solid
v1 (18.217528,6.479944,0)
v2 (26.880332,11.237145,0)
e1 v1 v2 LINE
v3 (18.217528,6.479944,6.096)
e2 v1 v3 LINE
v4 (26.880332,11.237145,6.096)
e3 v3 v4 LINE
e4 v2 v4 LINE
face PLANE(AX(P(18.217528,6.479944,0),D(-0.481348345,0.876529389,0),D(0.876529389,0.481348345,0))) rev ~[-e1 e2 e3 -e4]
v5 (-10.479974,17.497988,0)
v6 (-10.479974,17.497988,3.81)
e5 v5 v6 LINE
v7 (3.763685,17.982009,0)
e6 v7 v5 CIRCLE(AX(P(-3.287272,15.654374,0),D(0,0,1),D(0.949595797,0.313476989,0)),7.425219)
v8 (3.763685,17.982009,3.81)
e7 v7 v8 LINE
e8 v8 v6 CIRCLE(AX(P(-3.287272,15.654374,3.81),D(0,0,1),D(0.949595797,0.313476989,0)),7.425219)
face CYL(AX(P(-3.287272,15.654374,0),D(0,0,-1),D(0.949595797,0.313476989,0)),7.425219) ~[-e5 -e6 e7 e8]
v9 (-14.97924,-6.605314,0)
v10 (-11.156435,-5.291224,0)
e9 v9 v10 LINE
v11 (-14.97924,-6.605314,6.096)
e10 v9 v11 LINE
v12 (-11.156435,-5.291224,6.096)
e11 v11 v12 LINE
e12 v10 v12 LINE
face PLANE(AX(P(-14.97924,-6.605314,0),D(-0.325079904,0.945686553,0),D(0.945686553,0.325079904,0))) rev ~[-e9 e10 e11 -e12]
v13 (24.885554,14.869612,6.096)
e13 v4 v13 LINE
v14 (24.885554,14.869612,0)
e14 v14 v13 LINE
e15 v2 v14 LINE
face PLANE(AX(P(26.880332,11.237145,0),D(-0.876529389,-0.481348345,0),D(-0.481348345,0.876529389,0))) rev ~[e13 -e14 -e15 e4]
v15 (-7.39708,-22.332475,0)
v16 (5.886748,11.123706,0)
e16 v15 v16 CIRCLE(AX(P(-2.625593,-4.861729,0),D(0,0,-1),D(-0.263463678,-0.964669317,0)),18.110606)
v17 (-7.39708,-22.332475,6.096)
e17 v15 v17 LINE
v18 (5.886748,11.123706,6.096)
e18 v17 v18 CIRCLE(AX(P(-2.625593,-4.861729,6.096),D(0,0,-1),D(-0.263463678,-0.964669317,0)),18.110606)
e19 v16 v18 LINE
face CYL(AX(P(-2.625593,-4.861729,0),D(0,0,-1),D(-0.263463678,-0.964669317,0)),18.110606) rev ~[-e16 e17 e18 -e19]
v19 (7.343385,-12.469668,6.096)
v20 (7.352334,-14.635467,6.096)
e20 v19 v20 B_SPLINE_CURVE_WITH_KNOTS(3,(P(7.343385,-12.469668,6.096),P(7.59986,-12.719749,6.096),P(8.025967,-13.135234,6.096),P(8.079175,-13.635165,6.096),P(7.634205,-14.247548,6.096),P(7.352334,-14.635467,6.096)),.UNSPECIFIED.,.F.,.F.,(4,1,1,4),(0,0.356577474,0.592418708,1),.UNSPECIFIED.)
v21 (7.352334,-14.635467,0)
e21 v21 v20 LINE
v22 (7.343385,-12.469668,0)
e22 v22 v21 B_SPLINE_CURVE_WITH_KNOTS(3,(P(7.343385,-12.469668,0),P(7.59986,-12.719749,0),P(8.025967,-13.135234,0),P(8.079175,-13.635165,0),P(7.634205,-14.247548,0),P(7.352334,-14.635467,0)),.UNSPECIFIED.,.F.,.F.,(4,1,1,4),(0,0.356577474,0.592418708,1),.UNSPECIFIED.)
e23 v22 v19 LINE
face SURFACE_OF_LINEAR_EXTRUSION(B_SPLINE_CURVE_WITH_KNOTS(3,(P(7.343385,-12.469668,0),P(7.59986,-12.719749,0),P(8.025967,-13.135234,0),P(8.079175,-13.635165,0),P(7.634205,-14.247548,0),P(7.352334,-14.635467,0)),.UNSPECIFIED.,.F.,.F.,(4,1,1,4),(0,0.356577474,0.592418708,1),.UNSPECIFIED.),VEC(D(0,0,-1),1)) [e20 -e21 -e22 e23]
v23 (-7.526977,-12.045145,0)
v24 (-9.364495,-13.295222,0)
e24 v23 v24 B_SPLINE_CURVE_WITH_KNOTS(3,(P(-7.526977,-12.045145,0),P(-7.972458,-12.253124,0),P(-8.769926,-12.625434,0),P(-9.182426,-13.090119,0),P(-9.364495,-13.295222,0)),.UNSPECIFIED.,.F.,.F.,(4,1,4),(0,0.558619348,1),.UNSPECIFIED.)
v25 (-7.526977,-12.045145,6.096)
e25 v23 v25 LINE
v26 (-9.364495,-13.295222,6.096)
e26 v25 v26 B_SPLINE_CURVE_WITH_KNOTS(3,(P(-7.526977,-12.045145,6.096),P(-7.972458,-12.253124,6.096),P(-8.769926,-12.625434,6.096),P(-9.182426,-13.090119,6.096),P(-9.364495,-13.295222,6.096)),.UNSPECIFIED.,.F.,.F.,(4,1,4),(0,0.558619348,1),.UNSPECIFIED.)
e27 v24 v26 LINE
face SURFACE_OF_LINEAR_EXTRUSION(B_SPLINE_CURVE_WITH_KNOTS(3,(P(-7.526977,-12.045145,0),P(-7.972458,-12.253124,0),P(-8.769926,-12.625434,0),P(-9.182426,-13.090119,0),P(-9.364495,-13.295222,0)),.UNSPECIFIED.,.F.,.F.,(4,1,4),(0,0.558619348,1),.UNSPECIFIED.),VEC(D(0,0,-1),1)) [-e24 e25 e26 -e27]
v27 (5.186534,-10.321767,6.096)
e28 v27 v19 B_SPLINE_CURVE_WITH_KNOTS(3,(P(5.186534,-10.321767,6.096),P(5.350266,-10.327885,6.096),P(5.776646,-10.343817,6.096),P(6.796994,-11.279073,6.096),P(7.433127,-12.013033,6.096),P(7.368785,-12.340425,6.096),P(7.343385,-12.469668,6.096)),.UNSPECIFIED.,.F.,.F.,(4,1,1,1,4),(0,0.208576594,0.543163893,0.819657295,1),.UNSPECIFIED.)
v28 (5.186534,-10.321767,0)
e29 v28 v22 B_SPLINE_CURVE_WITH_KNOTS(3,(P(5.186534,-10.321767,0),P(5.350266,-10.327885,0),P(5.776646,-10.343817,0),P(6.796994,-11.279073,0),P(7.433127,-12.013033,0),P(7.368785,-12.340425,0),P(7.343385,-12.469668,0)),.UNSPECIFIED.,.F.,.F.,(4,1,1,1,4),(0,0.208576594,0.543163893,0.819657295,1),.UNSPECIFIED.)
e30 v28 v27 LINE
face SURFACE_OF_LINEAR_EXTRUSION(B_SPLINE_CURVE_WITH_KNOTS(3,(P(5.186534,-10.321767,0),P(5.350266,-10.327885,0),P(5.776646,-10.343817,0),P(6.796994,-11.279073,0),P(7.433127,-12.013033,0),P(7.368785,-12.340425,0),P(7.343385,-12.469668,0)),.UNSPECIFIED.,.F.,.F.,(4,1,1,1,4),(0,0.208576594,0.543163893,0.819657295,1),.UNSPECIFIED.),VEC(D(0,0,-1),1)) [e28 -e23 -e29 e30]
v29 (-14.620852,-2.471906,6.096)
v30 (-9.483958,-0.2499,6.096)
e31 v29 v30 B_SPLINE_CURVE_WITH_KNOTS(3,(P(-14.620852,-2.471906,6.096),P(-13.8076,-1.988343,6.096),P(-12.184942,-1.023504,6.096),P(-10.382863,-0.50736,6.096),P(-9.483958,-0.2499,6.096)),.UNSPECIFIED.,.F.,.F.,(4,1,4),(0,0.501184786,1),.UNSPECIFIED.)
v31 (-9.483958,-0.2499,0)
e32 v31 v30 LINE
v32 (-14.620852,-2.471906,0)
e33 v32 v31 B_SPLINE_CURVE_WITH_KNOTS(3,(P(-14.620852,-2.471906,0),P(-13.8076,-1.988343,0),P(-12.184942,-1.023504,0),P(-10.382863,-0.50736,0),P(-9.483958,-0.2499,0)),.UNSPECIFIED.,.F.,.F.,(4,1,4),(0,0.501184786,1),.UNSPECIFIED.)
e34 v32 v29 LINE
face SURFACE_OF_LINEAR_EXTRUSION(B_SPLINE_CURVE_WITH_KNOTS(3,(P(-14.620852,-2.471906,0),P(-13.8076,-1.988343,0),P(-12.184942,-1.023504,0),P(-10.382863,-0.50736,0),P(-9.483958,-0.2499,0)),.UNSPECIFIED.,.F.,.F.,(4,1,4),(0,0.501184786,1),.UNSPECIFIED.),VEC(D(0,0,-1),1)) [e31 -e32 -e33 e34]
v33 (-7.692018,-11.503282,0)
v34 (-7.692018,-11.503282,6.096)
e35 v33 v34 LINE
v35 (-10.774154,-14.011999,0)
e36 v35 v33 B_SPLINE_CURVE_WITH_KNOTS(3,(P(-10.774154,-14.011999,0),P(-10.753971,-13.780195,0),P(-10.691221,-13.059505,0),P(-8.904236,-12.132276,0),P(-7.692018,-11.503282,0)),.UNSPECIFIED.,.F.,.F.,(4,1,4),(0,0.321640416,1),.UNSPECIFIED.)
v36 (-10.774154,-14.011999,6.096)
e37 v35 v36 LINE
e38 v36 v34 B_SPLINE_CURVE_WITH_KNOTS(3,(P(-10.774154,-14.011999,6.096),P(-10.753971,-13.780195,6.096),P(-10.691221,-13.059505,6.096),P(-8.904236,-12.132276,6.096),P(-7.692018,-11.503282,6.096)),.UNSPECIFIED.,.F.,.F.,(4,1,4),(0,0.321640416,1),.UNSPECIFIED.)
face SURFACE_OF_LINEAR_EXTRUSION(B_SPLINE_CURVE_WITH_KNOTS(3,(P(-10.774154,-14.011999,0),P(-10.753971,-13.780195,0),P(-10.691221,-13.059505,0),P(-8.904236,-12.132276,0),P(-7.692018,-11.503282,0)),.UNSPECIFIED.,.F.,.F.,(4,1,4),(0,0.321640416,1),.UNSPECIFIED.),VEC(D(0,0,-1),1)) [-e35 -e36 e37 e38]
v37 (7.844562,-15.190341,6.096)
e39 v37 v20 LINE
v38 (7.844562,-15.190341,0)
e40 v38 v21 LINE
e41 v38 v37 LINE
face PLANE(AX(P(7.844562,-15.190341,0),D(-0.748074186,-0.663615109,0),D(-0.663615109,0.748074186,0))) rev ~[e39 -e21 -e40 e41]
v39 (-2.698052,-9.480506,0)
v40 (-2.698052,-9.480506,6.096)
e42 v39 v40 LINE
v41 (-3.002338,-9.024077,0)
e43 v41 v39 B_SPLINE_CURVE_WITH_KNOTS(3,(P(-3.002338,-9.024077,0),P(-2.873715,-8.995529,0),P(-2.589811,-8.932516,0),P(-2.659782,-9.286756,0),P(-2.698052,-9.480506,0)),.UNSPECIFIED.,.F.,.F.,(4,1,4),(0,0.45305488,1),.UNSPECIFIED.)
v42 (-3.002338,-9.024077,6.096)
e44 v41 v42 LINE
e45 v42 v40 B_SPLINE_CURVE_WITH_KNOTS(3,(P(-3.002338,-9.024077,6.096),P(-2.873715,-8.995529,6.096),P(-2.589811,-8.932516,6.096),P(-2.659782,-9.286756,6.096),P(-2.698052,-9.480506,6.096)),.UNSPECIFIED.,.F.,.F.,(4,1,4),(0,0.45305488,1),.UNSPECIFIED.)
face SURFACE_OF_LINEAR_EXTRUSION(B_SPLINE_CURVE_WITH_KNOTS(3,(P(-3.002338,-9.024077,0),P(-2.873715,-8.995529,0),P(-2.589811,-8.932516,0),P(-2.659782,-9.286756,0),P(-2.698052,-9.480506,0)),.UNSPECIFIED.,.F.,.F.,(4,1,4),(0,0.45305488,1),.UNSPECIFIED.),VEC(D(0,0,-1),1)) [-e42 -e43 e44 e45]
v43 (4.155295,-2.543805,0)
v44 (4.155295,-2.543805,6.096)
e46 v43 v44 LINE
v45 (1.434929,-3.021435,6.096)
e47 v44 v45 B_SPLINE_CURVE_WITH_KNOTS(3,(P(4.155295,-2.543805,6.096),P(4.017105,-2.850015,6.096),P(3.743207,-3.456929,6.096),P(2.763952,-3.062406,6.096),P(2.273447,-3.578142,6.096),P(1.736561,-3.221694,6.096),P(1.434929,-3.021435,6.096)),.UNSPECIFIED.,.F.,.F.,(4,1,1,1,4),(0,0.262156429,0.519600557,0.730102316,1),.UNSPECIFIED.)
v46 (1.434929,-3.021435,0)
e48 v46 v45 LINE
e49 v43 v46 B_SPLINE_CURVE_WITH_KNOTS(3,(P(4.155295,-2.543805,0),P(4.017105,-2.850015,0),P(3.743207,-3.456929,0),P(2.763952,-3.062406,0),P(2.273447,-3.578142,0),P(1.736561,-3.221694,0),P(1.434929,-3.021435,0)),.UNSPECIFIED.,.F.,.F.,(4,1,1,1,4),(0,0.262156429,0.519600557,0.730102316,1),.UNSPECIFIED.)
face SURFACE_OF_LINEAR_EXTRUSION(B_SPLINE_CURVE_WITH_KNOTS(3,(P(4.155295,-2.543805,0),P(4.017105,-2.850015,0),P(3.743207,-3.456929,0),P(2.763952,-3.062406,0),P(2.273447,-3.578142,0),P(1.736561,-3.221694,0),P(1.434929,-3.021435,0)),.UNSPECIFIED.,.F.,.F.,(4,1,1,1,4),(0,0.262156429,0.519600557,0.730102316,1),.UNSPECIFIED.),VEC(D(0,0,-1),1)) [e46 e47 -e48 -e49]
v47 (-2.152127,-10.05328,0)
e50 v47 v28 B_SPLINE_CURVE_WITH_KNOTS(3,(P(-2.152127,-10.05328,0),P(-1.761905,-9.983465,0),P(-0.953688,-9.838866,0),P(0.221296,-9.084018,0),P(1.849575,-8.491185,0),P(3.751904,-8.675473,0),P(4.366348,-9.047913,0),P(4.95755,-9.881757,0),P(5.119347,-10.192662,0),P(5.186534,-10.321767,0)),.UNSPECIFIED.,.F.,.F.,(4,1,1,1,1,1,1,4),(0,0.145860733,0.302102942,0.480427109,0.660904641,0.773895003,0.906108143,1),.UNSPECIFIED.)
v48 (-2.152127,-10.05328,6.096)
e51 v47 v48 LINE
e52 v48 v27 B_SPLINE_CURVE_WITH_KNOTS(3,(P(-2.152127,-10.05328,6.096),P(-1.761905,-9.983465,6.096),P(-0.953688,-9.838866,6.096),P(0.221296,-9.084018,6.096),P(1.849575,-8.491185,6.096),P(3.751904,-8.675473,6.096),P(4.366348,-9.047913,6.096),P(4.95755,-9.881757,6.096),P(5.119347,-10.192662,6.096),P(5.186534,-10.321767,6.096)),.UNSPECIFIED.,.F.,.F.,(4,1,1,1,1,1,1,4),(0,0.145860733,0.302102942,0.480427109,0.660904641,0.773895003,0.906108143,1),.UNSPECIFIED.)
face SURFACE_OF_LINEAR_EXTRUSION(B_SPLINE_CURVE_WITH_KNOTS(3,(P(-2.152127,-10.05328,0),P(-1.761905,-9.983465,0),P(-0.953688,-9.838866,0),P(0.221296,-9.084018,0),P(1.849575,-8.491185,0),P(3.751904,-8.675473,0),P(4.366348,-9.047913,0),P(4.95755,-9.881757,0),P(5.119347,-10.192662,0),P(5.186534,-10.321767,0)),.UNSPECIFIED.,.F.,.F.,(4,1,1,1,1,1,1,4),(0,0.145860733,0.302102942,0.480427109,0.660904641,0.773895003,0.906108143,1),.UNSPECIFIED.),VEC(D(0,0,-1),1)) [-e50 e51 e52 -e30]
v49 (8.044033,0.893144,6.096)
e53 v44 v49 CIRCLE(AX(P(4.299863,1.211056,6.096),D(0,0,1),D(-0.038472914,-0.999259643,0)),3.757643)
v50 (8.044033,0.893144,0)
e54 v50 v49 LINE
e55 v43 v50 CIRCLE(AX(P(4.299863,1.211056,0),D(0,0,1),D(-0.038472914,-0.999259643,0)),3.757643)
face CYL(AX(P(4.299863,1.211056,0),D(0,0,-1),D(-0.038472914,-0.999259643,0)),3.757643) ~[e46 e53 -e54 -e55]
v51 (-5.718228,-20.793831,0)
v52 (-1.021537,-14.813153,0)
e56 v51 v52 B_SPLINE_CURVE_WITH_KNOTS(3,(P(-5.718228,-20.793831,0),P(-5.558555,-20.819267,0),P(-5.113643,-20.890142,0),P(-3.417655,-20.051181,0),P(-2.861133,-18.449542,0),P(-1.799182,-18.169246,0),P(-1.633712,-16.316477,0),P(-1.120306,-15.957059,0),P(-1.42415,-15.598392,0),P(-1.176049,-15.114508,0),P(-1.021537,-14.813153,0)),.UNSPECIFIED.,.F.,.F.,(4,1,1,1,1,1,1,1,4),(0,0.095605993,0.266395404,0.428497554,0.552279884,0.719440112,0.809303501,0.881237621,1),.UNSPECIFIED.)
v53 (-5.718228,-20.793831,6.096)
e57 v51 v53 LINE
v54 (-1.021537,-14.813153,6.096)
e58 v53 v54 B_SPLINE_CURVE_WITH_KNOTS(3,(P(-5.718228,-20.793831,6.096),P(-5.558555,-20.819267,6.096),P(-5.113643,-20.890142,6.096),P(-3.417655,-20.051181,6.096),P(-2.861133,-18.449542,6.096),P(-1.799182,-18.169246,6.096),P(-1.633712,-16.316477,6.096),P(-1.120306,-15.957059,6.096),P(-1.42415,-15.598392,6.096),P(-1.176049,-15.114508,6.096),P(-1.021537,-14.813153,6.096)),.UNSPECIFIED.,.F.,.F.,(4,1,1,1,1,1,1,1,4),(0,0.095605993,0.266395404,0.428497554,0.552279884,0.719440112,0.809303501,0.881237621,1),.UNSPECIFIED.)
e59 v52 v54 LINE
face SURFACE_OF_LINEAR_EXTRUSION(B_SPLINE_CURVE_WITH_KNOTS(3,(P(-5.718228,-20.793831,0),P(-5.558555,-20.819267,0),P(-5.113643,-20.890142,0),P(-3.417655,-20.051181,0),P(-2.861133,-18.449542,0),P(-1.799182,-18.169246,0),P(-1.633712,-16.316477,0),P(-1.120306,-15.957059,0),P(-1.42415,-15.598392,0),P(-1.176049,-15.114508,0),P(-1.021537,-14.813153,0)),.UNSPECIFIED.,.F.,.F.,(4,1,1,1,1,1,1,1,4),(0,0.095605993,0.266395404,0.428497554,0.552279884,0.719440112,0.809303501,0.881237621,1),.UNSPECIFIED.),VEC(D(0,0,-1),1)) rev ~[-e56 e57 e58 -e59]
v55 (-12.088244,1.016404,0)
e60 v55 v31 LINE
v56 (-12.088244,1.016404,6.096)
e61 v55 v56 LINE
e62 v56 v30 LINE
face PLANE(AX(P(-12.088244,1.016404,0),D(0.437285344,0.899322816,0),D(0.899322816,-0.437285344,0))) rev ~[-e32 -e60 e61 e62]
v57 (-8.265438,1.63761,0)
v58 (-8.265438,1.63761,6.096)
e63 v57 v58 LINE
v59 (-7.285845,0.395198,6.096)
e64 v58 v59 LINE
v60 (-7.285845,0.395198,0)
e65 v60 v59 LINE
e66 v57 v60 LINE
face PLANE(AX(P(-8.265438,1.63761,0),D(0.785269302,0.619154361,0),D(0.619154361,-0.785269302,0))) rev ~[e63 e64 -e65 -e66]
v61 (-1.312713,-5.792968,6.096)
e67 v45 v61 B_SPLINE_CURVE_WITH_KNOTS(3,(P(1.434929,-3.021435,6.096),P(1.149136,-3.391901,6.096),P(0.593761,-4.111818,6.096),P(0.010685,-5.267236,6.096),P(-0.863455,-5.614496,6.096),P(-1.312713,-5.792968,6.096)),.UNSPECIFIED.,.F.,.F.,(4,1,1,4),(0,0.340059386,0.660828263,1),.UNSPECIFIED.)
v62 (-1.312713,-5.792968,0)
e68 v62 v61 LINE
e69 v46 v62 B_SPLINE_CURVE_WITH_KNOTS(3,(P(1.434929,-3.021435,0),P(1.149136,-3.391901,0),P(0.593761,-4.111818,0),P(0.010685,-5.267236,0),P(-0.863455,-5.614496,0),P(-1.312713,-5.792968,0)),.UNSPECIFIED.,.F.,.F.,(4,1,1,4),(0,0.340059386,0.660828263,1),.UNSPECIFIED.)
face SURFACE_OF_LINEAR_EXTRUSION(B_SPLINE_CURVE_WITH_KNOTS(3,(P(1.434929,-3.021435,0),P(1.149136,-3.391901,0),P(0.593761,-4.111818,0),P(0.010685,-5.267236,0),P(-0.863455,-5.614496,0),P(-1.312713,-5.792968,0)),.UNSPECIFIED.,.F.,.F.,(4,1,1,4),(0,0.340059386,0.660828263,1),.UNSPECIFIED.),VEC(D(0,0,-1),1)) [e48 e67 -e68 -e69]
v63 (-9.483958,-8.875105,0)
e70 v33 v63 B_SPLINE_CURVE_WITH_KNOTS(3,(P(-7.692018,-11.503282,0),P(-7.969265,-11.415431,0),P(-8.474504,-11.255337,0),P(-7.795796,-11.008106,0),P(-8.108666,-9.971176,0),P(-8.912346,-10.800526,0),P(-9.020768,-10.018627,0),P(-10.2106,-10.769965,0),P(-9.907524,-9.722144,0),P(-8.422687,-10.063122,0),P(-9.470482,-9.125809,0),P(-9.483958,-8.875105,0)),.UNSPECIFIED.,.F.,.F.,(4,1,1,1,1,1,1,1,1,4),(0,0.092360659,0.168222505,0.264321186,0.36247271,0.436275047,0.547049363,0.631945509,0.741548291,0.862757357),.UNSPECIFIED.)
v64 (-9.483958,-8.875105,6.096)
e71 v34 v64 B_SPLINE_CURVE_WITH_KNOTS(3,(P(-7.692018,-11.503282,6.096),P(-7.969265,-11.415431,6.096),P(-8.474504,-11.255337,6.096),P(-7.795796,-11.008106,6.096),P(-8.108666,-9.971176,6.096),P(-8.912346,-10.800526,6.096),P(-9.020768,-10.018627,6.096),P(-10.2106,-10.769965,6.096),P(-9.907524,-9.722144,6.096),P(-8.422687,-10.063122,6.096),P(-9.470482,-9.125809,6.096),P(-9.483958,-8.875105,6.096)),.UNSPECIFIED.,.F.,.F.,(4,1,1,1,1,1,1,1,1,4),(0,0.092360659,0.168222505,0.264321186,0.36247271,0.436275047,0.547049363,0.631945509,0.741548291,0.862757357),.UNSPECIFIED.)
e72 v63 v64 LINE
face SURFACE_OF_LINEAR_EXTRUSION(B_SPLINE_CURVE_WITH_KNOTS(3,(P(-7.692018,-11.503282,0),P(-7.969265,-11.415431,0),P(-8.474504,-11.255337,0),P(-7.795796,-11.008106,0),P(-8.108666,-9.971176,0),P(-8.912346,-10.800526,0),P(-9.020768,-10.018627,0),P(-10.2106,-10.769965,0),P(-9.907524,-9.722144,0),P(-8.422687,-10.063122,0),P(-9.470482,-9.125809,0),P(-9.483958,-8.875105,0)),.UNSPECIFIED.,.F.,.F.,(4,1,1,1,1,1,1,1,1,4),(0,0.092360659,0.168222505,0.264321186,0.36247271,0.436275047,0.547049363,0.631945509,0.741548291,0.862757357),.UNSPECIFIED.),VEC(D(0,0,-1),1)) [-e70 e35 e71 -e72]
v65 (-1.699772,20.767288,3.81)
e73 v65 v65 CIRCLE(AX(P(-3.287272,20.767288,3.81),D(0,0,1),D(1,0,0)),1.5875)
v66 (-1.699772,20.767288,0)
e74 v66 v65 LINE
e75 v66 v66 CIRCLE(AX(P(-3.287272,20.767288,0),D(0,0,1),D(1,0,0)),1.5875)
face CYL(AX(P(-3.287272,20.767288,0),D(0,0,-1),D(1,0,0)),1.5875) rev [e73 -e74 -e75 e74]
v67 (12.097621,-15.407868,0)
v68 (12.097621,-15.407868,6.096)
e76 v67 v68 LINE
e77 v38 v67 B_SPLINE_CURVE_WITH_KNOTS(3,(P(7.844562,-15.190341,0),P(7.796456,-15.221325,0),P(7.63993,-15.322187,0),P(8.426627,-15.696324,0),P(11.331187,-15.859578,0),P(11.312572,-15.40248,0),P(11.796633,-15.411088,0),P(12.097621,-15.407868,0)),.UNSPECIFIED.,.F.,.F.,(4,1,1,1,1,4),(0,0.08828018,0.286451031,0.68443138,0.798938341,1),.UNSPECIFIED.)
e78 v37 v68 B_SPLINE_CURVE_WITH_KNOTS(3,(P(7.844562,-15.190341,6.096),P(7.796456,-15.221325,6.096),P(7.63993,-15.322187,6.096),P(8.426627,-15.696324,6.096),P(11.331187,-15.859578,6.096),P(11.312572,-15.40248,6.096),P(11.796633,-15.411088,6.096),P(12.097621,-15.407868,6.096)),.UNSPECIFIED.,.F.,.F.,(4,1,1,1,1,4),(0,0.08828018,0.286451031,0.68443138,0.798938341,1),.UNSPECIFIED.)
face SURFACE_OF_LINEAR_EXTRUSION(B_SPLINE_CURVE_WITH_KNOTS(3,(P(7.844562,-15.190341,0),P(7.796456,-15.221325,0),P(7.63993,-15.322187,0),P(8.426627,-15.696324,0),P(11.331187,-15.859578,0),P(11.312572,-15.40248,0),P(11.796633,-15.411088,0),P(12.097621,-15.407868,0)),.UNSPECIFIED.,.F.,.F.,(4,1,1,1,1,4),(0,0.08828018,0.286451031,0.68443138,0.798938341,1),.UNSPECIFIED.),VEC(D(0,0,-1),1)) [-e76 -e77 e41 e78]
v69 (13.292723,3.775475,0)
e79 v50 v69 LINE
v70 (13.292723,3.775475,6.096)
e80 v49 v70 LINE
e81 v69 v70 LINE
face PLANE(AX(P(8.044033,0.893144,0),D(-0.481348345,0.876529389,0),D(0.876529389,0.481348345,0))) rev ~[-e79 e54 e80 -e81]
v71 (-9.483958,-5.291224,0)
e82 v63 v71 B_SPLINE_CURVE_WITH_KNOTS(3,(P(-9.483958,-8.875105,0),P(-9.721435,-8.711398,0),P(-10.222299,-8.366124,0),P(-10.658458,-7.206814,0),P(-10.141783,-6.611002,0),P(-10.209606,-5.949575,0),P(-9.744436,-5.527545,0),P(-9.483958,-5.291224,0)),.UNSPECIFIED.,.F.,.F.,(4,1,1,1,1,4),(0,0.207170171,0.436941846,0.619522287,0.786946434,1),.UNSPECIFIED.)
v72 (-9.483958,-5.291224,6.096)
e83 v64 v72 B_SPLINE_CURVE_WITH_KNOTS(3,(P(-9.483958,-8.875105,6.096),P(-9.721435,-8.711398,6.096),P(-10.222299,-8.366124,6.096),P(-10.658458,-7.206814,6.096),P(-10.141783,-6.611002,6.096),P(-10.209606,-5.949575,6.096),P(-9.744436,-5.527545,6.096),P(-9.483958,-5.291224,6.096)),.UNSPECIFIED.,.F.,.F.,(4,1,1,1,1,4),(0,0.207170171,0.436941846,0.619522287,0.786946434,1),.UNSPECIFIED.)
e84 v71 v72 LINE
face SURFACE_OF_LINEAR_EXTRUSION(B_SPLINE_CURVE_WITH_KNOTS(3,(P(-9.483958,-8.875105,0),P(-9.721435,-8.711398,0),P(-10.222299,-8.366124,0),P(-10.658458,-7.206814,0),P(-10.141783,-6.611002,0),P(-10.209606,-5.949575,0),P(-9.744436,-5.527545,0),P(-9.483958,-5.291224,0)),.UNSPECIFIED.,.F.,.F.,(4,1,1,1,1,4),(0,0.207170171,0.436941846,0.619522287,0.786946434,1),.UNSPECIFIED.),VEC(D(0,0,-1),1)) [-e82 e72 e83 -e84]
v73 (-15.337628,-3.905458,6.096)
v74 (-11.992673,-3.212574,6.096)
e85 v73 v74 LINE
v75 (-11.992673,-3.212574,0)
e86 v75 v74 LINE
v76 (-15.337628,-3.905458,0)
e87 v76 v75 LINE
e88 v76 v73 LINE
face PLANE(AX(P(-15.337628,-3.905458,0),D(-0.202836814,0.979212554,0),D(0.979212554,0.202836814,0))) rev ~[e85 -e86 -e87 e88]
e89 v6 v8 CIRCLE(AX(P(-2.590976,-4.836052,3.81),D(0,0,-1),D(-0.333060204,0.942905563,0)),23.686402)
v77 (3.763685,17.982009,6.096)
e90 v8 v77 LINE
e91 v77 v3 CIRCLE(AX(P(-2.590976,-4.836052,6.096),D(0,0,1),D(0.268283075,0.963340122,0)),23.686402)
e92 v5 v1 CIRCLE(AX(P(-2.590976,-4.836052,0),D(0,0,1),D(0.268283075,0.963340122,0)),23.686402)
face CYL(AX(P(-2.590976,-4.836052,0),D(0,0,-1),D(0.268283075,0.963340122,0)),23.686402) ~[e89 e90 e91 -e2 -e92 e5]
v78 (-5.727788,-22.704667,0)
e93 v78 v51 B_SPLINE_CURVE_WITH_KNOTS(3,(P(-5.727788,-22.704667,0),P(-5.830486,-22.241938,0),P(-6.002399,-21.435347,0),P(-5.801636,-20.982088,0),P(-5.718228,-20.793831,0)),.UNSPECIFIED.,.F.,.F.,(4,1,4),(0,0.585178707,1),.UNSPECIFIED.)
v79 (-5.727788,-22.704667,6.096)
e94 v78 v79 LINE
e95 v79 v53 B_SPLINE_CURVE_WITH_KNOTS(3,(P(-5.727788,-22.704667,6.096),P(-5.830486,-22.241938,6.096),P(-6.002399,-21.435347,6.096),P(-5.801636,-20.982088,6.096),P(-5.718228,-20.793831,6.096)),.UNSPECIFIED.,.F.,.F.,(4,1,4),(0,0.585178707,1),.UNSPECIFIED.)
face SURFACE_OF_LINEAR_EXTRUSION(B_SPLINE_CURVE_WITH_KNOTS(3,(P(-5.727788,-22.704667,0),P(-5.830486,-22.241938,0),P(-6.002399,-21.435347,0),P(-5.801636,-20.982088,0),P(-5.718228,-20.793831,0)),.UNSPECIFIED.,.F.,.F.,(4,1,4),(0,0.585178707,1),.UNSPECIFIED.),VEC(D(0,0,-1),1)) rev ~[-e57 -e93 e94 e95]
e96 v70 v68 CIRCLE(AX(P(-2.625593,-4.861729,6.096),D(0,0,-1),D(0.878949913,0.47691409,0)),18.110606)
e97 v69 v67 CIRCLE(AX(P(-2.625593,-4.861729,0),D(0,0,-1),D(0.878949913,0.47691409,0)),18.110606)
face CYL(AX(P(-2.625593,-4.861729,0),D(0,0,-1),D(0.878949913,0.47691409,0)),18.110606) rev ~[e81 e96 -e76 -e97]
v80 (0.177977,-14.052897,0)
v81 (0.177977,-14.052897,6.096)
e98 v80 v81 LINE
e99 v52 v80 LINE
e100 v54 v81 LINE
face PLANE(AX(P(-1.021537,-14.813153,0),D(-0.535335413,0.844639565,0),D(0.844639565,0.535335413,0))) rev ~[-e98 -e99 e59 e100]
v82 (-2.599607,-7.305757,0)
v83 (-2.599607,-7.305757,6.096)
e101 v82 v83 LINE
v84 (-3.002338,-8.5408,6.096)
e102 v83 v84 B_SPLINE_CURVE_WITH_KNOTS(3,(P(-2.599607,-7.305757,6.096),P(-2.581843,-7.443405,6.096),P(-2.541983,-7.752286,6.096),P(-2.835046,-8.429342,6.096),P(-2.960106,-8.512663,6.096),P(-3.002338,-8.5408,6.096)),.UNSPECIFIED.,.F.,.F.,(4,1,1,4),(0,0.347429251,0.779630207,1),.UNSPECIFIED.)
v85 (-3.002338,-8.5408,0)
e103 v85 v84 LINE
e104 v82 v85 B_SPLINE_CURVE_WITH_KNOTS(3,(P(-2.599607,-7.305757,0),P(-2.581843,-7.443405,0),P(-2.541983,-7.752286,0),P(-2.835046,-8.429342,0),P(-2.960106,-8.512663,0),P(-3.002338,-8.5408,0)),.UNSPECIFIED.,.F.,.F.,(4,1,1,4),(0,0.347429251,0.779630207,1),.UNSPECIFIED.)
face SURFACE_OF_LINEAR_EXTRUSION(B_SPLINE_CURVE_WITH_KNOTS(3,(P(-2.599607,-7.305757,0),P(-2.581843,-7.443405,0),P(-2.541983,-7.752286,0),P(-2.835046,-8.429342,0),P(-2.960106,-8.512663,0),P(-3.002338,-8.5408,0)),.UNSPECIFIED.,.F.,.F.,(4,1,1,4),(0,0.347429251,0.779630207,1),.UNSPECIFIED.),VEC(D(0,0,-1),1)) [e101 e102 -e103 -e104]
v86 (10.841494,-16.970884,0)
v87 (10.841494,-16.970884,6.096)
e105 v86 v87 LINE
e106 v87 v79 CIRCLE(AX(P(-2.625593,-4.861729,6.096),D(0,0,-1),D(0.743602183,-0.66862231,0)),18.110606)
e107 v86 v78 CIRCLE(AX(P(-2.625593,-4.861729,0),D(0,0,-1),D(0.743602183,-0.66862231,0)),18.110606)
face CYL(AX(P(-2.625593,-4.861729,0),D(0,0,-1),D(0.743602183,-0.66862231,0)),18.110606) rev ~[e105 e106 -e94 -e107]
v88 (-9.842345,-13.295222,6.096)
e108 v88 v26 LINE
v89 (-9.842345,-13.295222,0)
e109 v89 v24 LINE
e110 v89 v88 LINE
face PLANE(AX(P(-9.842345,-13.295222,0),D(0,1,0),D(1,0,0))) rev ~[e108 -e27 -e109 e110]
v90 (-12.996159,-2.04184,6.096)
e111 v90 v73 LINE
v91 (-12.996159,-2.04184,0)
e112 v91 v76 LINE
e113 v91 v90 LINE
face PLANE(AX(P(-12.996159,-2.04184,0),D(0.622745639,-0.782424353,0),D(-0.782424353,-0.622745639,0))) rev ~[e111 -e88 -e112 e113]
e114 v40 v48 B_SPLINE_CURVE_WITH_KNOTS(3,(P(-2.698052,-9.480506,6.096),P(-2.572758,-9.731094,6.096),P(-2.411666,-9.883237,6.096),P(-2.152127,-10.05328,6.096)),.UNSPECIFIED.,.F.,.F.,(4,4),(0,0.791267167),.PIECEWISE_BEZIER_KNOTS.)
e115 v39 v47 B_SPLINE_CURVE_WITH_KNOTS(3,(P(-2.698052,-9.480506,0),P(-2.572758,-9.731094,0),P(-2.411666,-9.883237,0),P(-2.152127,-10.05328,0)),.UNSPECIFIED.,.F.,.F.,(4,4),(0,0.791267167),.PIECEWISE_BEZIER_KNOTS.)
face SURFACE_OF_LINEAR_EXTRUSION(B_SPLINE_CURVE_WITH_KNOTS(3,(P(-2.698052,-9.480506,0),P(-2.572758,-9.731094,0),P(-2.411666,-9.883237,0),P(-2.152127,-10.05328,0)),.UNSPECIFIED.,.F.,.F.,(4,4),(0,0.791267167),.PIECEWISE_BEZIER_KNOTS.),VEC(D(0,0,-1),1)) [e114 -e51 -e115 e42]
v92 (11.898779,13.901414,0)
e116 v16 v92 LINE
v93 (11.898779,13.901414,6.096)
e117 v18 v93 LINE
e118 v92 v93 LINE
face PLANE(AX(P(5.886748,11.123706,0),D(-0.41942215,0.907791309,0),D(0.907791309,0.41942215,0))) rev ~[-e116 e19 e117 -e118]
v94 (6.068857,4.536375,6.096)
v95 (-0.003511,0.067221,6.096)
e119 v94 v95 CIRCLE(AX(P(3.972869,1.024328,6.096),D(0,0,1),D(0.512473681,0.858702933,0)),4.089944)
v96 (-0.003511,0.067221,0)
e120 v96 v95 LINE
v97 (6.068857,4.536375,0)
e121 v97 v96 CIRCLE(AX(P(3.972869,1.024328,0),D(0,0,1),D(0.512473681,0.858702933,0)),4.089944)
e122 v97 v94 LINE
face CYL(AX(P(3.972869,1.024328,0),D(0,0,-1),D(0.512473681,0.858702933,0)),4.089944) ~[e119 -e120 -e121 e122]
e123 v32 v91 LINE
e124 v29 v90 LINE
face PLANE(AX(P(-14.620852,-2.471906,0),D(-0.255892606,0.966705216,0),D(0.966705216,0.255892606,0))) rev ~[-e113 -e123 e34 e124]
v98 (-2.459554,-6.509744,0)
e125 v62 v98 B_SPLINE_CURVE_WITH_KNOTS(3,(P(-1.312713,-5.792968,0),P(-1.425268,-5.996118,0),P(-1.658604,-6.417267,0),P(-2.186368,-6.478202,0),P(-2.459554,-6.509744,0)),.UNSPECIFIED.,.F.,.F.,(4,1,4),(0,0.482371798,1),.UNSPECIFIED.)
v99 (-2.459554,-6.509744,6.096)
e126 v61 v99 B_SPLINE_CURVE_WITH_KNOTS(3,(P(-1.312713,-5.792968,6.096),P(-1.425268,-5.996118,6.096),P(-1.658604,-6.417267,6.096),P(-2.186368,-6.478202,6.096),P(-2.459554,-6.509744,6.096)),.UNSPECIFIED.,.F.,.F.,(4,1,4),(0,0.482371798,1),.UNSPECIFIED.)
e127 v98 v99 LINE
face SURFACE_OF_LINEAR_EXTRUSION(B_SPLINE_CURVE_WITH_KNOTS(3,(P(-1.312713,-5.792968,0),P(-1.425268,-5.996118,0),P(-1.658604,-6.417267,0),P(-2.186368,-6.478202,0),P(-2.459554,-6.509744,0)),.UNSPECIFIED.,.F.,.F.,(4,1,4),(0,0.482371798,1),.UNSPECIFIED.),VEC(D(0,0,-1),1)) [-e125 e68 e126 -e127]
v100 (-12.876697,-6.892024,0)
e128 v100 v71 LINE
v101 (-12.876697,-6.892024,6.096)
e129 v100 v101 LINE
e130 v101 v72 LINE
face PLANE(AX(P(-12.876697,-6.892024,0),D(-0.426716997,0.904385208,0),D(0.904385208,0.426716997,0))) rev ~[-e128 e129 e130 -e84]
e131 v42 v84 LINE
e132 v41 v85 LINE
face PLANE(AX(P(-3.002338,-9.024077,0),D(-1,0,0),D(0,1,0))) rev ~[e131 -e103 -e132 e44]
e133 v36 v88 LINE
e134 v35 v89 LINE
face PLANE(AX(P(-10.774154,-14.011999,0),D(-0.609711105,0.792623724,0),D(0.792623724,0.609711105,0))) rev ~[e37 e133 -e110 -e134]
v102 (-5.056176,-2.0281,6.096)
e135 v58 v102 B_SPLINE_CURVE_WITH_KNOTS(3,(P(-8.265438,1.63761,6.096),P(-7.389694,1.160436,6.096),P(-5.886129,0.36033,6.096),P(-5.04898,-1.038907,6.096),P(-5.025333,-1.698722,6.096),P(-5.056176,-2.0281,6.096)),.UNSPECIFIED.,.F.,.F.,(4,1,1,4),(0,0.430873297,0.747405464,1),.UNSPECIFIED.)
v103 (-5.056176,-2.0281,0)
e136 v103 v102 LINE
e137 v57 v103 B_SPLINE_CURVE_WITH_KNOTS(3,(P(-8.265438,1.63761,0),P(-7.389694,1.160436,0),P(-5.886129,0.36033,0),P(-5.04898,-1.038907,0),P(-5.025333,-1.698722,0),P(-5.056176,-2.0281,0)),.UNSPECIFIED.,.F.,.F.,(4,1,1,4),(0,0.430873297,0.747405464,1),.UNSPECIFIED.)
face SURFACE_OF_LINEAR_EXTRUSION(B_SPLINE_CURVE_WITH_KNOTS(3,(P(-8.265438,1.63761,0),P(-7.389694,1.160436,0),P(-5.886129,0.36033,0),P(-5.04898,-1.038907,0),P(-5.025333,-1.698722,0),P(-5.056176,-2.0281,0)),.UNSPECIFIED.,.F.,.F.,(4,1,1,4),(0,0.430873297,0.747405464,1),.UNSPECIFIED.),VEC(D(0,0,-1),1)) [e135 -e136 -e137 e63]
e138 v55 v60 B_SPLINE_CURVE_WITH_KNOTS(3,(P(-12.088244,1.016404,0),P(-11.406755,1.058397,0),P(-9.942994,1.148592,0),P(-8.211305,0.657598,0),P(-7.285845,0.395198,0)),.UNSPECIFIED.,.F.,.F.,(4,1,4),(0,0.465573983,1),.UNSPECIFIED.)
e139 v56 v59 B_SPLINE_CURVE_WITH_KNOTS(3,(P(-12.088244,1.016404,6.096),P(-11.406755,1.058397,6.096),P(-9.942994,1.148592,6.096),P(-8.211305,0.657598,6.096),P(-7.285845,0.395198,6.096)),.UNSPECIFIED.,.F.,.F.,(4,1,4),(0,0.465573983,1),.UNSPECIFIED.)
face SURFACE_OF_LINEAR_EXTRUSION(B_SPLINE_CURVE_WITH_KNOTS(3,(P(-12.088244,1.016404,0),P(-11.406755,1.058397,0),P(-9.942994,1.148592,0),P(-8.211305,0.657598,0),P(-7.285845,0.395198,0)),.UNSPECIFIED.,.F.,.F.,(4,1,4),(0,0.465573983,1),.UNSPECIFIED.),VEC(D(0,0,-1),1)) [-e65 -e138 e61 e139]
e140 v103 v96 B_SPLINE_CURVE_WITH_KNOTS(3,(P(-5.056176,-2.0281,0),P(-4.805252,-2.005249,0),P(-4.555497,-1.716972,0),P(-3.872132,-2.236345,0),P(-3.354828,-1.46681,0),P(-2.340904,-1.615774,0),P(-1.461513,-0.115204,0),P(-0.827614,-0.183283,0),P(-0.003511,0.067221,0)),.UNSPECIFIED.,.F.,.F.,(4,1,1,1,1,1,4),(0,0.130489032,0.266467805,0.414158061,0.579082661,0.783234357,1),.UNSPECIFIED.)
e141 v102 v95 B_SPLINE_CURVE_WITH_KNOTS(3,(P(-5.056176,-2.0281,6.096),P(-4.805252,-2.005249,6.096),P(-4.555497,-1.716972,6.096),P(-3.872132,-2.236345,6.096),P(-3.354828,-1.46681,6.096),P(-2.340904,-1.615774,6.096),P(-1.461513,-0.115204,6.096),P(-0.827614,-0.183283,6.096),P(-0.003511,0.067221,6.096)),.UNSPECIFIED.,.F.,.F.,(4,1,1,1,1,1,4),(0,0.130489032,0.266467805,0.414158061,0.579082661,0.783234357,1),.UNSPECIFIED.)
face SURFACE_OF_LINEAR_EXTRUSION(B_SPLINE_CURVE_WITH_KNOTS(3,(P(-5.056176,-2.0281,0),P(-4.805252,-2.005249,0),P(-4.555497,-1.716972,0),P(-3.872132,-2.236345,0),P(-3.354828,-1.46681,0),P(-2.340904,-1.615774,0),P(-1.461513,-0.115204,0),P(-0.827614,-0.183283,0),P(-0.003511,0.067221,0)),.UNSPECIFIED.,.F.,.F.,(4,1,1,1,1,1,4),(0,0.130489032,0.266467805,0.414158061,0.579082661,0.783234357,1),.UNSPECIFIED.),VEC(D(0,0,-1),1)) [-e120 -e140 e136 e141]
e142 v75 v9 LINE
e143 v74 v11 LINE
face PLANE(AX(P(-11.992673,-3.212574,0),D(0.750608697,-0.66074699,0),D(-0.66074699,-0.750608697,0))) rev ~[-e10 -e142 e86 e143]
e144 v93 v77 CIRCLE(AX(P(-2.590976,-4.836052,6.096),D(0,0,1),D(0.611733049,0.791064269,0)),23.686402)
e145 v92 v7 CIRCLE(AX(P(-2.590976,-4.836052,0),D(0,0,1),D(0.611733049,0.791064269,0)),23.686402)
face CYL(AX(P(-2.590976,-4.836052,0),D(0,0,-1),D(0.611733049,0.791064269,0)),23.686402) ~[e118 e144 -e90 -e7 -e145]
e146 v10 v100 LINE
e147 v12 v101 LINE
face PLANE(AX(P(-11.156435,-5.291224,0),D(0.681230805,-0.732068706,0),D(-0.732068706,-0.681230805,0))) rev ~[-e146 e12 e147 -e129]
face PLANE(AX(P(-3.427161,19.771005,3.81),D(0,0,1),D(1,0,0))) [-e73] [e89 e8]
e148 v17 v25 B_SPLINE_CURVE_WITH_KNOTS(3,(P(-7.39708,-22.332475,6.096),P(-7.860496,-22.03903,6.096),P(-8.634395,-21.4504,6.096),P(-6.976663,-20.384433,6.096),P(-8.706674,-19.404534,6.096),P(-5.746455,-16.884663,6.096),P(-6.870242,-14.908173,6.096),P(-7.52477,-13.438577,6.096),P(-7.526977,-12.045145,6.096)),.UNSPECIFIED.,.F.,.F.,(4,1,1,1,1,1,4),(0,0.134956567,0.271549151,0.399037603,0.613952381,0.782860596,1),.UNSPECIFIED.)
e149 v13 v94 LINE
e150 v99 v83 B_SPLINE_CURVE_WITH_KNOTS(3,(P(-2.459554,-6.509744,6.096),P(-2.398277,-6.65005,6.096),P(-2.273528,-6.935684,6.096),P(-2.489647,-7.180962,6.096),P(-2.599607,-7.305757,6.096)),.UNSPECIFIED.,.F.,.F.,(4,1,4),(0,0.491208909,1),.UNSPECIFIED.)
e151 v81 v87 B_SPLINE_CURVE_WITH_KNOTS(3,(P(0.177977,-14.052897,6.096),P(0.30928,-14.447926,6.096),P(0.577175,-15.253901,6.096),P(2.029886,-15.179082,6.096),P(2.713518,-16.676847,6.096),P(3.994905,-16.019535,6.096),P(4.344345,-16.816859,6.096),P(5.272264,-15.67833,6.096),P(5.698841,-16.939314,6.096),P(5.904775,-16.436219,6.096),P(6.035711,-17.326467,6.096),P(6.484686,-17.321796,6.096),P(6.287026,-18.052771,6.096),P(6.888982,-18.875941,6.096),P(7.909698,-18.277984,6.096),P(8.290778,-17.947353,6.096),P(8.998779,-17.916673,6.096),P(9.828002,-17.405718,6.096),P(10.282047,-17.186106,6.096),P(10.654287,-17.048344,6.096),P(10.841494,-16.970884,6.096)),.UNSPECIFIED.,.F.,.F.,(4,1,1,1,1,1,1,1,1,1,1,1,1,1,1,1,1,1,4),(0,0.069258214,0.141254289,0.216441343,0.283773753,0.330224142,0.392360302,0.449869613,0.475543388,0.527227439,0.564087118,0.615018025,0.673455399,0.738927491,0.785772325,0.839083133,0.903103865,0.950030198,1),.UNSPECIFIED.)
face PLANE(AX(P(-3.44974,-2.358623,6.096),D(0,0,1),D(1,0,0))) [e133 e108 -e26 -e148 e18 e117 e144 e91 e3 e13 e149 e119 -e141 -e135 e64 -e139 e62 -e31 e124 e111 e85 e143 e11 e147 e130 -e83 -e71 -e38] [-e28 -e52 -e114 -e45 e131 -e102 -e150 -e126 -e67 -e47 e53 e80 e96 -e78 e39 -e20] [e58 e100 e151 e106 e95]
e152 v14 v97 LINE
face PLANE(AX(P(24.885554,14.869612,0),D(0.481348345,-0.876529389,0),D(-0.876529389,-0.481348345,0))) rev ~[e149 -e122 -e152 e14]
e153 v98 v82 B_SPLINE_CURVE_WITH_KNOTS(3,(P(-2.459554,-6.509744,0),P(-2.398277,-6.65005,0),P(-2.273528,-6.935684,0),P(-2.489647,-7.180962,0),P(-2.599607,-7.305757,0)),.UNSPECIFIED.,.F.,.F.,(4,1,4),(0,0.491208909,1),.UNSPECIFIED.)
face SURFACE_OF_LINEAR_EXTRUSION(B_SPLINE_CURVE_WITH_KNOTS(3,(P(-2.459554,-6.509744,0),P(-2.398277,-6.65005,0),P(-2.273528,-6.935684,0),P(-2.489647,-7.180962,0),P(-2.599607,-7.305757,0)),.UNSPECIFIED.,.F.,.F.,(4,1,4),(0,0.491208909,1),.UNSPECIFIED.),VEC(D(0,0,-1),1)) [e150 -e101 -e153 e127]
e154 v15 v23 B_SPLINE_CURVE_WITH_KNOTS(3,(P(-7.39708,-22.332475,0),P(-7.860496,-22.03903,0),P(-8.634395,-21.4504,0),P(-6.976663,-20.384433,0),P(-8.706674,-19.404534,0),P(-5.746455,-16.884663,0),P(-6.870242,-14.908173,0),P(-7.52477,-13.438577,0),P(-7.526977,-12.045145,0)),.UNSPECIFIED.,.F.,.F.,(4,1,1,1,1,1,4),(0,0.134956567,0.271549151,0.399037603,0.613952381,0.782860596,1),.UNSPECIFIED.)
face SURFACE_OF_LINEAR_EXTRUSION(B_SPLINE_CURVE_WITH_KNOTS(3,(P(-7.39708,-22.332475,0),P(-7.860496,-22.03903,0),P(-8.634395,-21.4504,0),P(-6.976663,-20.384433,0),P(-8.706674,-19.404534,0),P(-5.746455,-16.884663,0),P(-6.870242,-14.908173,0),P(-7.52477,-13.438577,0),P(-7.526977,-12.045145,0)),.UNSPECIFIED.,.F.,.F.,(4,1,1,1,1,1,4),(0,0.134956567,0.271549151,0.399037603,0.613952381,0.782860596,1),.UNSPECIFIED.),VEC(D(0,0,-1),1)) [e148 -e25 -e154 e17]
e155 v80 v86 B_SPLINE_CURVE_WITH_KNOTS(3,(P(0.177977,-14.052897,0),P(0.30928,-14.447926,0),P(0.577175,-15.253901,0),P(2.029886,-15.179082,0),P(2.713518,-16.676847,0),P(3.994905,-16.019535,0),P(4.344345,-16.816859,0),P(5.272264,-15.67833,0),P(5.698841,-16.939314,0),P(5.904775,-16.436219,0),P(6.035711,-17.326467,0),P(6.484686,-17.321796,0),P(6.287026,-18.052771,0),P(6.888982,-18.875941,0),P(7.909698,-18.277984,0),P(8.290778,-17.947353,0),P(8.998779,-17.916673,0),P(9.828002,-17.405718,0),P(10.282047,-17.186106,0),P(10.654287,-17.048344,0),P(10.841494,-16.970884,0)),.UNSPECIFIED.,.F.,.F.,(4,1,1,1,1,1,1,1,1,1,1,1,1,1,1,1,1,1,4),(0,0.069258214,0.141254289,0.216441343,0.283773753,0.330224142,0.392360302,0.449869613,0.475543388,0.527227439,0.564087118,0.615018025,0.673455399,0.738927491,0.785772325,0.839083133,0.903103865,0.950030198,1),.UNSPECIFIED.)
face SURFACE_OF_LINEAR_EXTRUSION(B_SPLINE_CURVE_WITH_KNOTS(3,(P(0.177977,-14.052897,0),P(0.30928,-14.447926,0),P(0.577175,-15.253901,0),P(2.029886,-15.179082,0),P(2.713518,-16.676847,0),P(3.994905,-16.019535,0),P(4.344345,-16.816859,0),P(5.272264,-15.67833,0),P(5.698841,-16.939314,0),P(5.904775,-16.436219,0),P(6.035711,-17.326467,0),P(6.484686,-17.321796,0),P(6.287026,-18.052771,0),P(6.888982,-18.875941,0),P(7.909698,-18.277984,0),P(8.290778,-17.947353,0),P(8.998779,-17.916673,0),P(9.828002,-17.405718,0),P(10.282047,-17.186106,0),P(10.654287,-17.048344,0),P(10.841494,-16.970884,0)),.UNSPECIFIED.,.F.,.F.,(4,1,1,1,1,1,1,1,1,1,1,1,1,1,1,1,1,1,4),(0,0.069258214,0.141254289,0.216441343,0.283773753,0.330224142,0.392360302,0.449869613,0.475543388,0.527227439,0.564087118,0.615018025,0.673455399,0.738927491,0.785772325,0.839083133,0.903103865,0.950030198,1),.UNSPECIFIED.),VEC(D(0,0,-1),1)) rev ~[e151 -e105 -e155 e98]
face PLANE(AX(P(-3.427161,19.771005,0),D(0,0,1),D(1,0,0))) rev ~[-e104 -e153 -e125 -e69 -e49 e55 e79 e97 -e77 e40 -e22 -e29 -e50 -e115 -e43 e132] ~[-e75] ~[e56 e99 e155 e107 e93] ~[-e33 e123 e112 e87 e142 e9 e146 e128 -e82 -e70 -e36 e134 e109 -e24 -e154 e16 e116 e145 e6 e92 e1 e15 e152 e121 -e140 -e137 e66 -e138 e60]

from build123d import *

# Parameters (mm, degrees)
F1_DEPTH = 6.096
F0_R     = 1.5875
F2_DEPTH = 3.81


with BuildPart() as f1:
    # F0 (on Top) → F1 (new body)
    with BuildSketch(Plane.XY):
        with BuildLine():
            Line((5.8867475927, 11.1237062895), (11.8987785587, 13.9014140421))
            ThreePointArc((11.8987785587, 13.9014140421), (8.0290627856, 16.3361089294), (3.7636845033, 17.9820091293))
            ThreePointArc((3.7636845033, 17.9820091293), (-3.3954118482, 18.8366856864), (-10.4799740032, 17.4979879394))
            ThreePointArc((-10.4799740032, 17.4979879394), (-11.0808369055, -26.9486704454), (18.2175282381, 6.4799442091))
            Line((18.2175282381, 6.4799442091), (26.8803321817, 11.2371450471))
            Line((26.8803321817, 11.2371450471), (24.8855538666, 14.8696117103))
            Line((24.8855538666, 14.8696117103), (6.0688573867, 4.5363749377))
            ThreePointArc((6.0688573867, 4.5363749377), (1.5485541538, 4.3183138602), (-0.0035108123, 0.0672214956))
            add(Edge.make_bspline(
                [(-5.0561761632, -2.0280998782), (-4.8052523935, -2.0052493458), (-4.5554973858, -1.7169716893), (-3.8721323539, -2.2363446777), (-3.3548276699, -1.4668098954), (-2.3409041596, -1.6157743821), (-1.4615129508, -0.1152036218), (-0.8276142997, -0.1832830909), (-0.0035108123, 0.0672214956)],
                knots=[0, 0, 0, 0, 0.1304890325, 0.2664678048, 0.4141580612, 0.5790826607, 0.7832343573, 1, 1, 1, 1], degree=3))
            add(Edge.make_bspline(
                [(-8.2654384896, 1.6376097919), (-7.389693912, 1.1604357726), (-5.8861288299, 0.3603296399), (-5.0489802762, -1.0389067769), (-5.0253330334, -1.6987220963), (-5.0561761632, -2.0280998782)],
                knots=[0, 0, 0, 0, 0.4308732974, 0.7474054636, 1, 1, 1, 1], degree=3))
            Line((-8.2654384896, 1.6376097919), (-7.2858450003, 0.3951979743))
            add(Edge.make_bspline(
                [(-12.0882438496, 1.0164040141), (-11.4067549595, 1.058396756), (-9.9429942787, 1.148592393), (-8.2113048726, 0.6575980992), (-7.2858450003, 0.3951979743)],
                knots=[0, 0, 0, 0, 0.4655739828, 1, 1, 1, 1], degree=3))
            Line((-12.0882438496, 1.0164040141), (-9.4839576632, -0.2499000984))
            add(Edge.make_bspline(
                [(-14.6208517253, -2.471906133), (-13.8076002883, -1.9883433809), (-12.1849424204, -1.0235041338), (-10.382862529, -0.5073604302), (-9.4839576632, -0.2499000984)],
                knots=[0, 0, 0, 0, 0.5011847865, 1, 1, 1, 1], degree=3))
            Line((-14.6208517253, -2.471906133), (-12.9961594939, -2.0418404602))
            Line((-12.9961594939, -2.0418404602), (-15.3376283124, -3.9054576773))
            Line((-15.3376283124, -3.9054576773), (-11.9926733896, -3.2125744037))
            Line((-11.9926733896, -3.2125744037), (-14.9792395532, -6.6053140908))
            Line((-14.9792395532, -6.6053140908), (-11.1564351246, -5.2912244573))
            Line((-11.1564351246, -5.2912244573), (-12.8766968846, -6.8920240737))
            Line((-12.8766968846, -6.8920240737), (-9.4839576632, -5.2912244573))
            add(Edge.make_bspline(
                [(-9.4839576632, -8.8751045987), (-9.7214353508, -8.7113976887), (-10.2222986682, -8.3661240469), (-10.6584578516, -7.206814406), (-10.1417833527, -6.6110022253), (-10.2096062603, -5.9495745548), (-9.744435968, -5.5275453405), (-9.4839576632, -5.2912244573)],
                knots=[0, 0, 0, 0, 0.2071701711, 0.4369418459, 0.6195222868, 0.7869464336, 1, 1, 1, 1], degree=3))
            add(Edge.make_bspline(
                [(-7.6920175925, -11.5032820031), (-7.9692650839, -11.4154311253), (-8.4745037728, -11.2553367002), (-7.7957957003, -11.0081060678), (-8.1086664998, -9.971175728), (-8.9123456787, -10.8005258041), (-9.0207675053, -10.0186265098), (-10.2105999535, -10.7699649013), (-9.9075239172, -9.7221438075), (-8.4226868077, -10.0631216343), (-9.4704822179, -9.1258085801), (-9.4839576632, -8.8751045987)],
                knots=[0, 0, 0, 0, 0.0923606595, 0.1682225049, 0.2643211857, 0.3624727099, 0.4362750473, 0.5470493631, 0.6319455086, 0.741548291, 0.8627573568, 0.8627573568, 0.8627573568, 0.8627573568], degree=3))
            add(Edge.make_bspline(
                [(-10.7741542161, -14.0119986609), (-10.7539713323, -13.7801954198), (-10.691221495, -13.0595047672), (-8.9042361966, -12.1322763123), (-7.6920175925, -11.5032820031)],
                knots=[0, 0, 0, 0, 0.3216404157, 1, 1, 1, 1], degree=3))
            Line((-10.7741542161, -14.0119986609), (-9.8423454911, -13.2952220738))
            Line((-9.8423454911, -13.2952220738), (-9.3644950539, -13.2952220738))
            add(Edge.make_bspline(
                [(-7.5269772834, -12.0451447671), (-7.9724583732, -12.2531240469), (-8.7699264363, -12.6254335282), (-9.1824258111, -13.0901189289), (-9.3644950539, -13.2952220738)],
                knots=[0, 0, 0, 0, 0.5586193484, 1, 1, 1, 1], degree=3))
            add(Edge.make_bspline(
                [(-7.397079944, -22.3324749056), (-7.8604964767, -22.0390295753), (-8.6343949459, -21.4503998264), (-6.9766627437, -20.3844329268), (-8.7066737303, -19.4045343199), (-5.7464549382, -16.8846633844), (-6.8702421809, -14.9081728235), (-7.5247697532, -13.4385768324), (-7.5269772834, -12.0451447671)],
                knots=[0, 0, 0, 0, 0.1349565674, 0.2715491506, 0.399037603, 0.6139523813, 0.7828605958, 1, 1, 1, 1], degree=3))
            ThreePointArc((-7.397079944, -22.3324749056), (-19.4579282459, 1.8215757665), (5.8867475927, 11.1237062895))
        make_face()
        with BuildLine():
            ThreePointArc((10.8414935653, -16.970884068), (3.2969749422, -21.9765541656), (-5.7277879962, -22.704666991))
            add(Edge.make_bspline(
                [(-5.7277879962, -22.704666991), (-5.8304858715, -22.2419378769), (-6.002399152, -21.4353468045), (-5.8016359319, -20.9820877185), (-5.7182284072, -20.7938309759)],
                knots=[0, 0, 0, 0, 0.5851787071, 1, 1, 1, 1], degree=3))
            add(Edge.make_bspline(
                [(-5.7182284072, -20.7938309759), (-5.5585550738, -20.8192670375), (-5.1136431942, -20.8901417774), (-3.4176554003, -20.0511811073), (-2.8611328065, -18.449542352), (-1.7991824572, -18.1692459538), (-1.6337116929, -16.3164767808), (-1.1203057387, -15.9570585052), (-1.4241495923, -15.5983924705), (-1.1760494561, -15.1145078113), (-1.0215371149, -14.8131530732)],
                knots=[0, 0, 0, 0, 0.095605993, 0.2663954035, 0.4284975543, 0.5522798841, 0.7194401117, 0.8093035013, 0.8812376207, 1, 1, 1, 1], degree=3))
            Line((-1.0215371149, -14.8131530732), (0.1779773302, -14.0528967604))
            add(Edge.make_bspline(
                [(0.1779773302, -14.0528967604), (0.3092797904, -14.4479263209), (0.5771747969, -15.253900912), (2.0298860809, -15.1790822404), (2.7135183028, -16.6768469267), (3.9949047962, -16.0195351771), (4.3443453703, -16.8168587317), (5.2722641994, -15.6783296046), (5.6988411673, -16.9393135889), (5.9047746176, -16.4362192771), (6.0357112862, -17.3264667423), (6.4846857386, -17.321795982), (6.287026415, -18.0527710661), (6.8889818424, -18.8759414896), (7.9096978376, -18.277984445), (8.2907776784, -17.9473530671), (8.9987787845, -17.9166730304), (9.8280020654, -17.4057177734), (10.2820469646, -17.1861061685), (10.6542873447, -17.0483441415), (10.8414935653, -16.970884068)],
                knots=[0, 0, 0, 0, 0.0692582141, 0.1412542886, 0.2164413427, 0.2837737527, 0.3302241415, 0.3923603016, 0.4498696132, 0.4755433878, 0.5272274393, 0.5640871182, 0.6150180248, 0.6734553994, 0.7389274906, 0.7857723252, 0.8390831329, 0.9031038646, 0.9500301979, 1, 1, 1, 1], degree=3))
        make_face(mode=Mode.SUBTRACT)
        with BuildLine():
            add(Edge.make_bspline(
                [(4.1552954353, -2.5438051671), (4.0171045569, -2.8500145572), (3.7432068015, -3.4569291783), (2.7639523318, -3.0624063605), (2.2734467709, -3.5781422654), (1.7365614145, -3.2216941066), (1.434928854, -3.021434648)],
                knots=[0, 0, 0, 0, 0.2621564288, 0.519600557, 0.7301023164, 1, 1, 1, 1], degree=3))
            ThreePointArc((4.1552954353, -2.5438051671), (6.7883241866, -1.6045153718), (8.0440333341, 0.8931435844))
            Line((8.0440333341, 0.8931435844), (13.2927230547, 3.7754749058))
            ThreePointArc((13.2927230547, 3.7754749058), (15.4499704129, -5.9878175308), (12.0976205306, -15.4078677236))
            add(Edge.make_bspline(
                [(7.844561711, -15.1903405786), (7.7964564102, -15.2213247288), (7.6399296044, -15.3221873032), (8.4266272044, -15.6963237625), (11.3311872384, -15.8595782699), (11.3125722341, -15.4024799437), (11.7966330128, -15.4110879916), (12.0976205306, -15.4078677236)],
                knots=[0, 0, 0, 0, 0.0882801796, 0.2864510314, 0.6844313798, 0.7989383409, 1, 1, 1, 1], degree=3))
            Line((7.844561711, -15.1903405786), (7.3523344472, -14.6354669705))
            add(Edge.make_bspline(
                [(7.3433849029, -12.4696679413), (7.5998596103, -12.7197489932), (8.0259673312, -13.1352342787), (8.0791749245, -13.6351645963), (7.6342045754, -14.2475477953), (7.3523344472, -14.6354669705)],
                knots=[0, 0, 0, 0, 0.356577474, 0.5924187077, 1, 1, 1, 1], degree=3))
            add(Edge.make_bspline(
                [(5.186534021, -10.3217670694), (5.3502655039, -10.3278850352), (5.7766461829, -10.343817111), (6.7969942198, -11.2790731201), (7.4331274029, -12.0130328092), (7.3687850024, -12.3404250767), (7.3433849029, -12.4696679413)],
                knots=[0, 0, 0, 0, 0.2085765936, 0.543163893, 0.819657295, 1, 1, 1, 1], degree=3))
            add(Edge.make_bspline(
                [(-2.1521274466, -10.0532798097), (-1.7619053691, -9.9834650067), (-0.9536875885, -9.8388664092), (0.2212955547, -9.0840177368), (1.8495752372, -8.4911852977), (3.7519042358, -8.6754733597), (4.3663480969, -9.0479129403), (4.9575499127, -9.8817573876), (5.1193466634, -10.1926616565), (5.186534021, -10.3217670694)],
                knots=[0, 0, 0, 0, 0.1458607325, 0.3021029416, 0.4804271091, 0.6609046411, 0.7738950028, 0.9061081434, 1, 1, 1, 1], degree=3))
            add(Edge.make_bspline(
                [(-2.6980524417, -9.4805061817), (-2.5727581233, -9.7310943529), (-2.4116656277, -9.8832370713), (-2.1521274466, -10.0532798097)],
                knots=[0, 0, 0, 0, 0.7912671667, 0.7912671667, 0.7912671667, 0.7912671667], degree=3))
            add(Edge.make_bspline(
                [(-3.0023383442, -9.0240770951), (-2.87371462, -8.9955288159), (-2.5898114331, -8.9325159659), (-2.6597822466, -9.2867562092), (-2.6980524417, -9.4805061817)],
                knots=[0, 0, 0, 0, 0.4530548796, 1, 1, 1, 1], degree=3))
            Line((-3.0023383442, -9.0240770951), (-3.0023383442, -8.5407998413))
            add(Edge.make_bspline(
                [(-2.5996067561, -7.3057566769), (-2.5818434989, -7.4434045963), (-2.5419828023, -7.7522861189), (-2.8350463031, -8.4293415696), (-2.9601062441, -8.5126627174), (-3.0023383442, -8.5407998413)],
                knots=[0, 0, 0, 0, 0.3474292505, 0.7796302074, 1, 1, 1, 1], degree=3))
            add(Edge.make_bspline(
                [(-2.4595540017, -6.5097440965), (-2.3982765087, -6.6500499959), (-2.2735281747, -6.9356838613), (-2.4896472805, -7.1809615659), (-2.5996067561, -7.3057566769)],
                knots=[0, 0, 0, 0, 0.4912089088, 1, 1, 1, 1], degree=3))
            add(Edge.make_bspline(
                [(-1.3127127895, -5.7929679751), (-1.4252677555, -5.9961183616), (-1.6586042945, -6.4172673326), (-2.1863684111, -6.4782023915), (-2.4595540017, -6.5097440965)],
                knots=[0, 0, 0, 0, 0.4823717982, 1, 1, 1, 1], degree=3))
            add(Edge.make_bspline(
                [(1.434928854, -3.021434648), (1.1491356371, -3.3919008469), (0.5937613626, -4.1118178508), (0.010684836, -5.2672359733), (-0.8634549343, -5.6144961183), (-1.3127127895, -5.7929679751)],
                knots=[0, 0, 0, 0, 0.3400593864, 0.6608282626, 1, 1, 1, 1], degree=3))
        make_face(mode=Mode.SUBTRACT)
    extrude(amount=F1_DEPTH)

    # F0 (on Top) → F2 (join)
    with BuildSketch(Plane.XY):
        with BuildLine():
            ThreePointArc((-10.4799740032, 17.4979879394), (-3.3954118482, 18.8366856864), (3.7636845033, 17.9820091293))
            ThreePointArc((3.7636845033, 17.9820091293), (-3.5394467278, 23.0753092868), (-10.4799740032, 17.4979879394))
        make_face()
        with Locations((-3.2872720512, 20.7672882825)):
            Circle(F0_R, mode=Mode.SUBTRACT)
    extrude(amount=F2_DEPTH)


solid = f1.part
